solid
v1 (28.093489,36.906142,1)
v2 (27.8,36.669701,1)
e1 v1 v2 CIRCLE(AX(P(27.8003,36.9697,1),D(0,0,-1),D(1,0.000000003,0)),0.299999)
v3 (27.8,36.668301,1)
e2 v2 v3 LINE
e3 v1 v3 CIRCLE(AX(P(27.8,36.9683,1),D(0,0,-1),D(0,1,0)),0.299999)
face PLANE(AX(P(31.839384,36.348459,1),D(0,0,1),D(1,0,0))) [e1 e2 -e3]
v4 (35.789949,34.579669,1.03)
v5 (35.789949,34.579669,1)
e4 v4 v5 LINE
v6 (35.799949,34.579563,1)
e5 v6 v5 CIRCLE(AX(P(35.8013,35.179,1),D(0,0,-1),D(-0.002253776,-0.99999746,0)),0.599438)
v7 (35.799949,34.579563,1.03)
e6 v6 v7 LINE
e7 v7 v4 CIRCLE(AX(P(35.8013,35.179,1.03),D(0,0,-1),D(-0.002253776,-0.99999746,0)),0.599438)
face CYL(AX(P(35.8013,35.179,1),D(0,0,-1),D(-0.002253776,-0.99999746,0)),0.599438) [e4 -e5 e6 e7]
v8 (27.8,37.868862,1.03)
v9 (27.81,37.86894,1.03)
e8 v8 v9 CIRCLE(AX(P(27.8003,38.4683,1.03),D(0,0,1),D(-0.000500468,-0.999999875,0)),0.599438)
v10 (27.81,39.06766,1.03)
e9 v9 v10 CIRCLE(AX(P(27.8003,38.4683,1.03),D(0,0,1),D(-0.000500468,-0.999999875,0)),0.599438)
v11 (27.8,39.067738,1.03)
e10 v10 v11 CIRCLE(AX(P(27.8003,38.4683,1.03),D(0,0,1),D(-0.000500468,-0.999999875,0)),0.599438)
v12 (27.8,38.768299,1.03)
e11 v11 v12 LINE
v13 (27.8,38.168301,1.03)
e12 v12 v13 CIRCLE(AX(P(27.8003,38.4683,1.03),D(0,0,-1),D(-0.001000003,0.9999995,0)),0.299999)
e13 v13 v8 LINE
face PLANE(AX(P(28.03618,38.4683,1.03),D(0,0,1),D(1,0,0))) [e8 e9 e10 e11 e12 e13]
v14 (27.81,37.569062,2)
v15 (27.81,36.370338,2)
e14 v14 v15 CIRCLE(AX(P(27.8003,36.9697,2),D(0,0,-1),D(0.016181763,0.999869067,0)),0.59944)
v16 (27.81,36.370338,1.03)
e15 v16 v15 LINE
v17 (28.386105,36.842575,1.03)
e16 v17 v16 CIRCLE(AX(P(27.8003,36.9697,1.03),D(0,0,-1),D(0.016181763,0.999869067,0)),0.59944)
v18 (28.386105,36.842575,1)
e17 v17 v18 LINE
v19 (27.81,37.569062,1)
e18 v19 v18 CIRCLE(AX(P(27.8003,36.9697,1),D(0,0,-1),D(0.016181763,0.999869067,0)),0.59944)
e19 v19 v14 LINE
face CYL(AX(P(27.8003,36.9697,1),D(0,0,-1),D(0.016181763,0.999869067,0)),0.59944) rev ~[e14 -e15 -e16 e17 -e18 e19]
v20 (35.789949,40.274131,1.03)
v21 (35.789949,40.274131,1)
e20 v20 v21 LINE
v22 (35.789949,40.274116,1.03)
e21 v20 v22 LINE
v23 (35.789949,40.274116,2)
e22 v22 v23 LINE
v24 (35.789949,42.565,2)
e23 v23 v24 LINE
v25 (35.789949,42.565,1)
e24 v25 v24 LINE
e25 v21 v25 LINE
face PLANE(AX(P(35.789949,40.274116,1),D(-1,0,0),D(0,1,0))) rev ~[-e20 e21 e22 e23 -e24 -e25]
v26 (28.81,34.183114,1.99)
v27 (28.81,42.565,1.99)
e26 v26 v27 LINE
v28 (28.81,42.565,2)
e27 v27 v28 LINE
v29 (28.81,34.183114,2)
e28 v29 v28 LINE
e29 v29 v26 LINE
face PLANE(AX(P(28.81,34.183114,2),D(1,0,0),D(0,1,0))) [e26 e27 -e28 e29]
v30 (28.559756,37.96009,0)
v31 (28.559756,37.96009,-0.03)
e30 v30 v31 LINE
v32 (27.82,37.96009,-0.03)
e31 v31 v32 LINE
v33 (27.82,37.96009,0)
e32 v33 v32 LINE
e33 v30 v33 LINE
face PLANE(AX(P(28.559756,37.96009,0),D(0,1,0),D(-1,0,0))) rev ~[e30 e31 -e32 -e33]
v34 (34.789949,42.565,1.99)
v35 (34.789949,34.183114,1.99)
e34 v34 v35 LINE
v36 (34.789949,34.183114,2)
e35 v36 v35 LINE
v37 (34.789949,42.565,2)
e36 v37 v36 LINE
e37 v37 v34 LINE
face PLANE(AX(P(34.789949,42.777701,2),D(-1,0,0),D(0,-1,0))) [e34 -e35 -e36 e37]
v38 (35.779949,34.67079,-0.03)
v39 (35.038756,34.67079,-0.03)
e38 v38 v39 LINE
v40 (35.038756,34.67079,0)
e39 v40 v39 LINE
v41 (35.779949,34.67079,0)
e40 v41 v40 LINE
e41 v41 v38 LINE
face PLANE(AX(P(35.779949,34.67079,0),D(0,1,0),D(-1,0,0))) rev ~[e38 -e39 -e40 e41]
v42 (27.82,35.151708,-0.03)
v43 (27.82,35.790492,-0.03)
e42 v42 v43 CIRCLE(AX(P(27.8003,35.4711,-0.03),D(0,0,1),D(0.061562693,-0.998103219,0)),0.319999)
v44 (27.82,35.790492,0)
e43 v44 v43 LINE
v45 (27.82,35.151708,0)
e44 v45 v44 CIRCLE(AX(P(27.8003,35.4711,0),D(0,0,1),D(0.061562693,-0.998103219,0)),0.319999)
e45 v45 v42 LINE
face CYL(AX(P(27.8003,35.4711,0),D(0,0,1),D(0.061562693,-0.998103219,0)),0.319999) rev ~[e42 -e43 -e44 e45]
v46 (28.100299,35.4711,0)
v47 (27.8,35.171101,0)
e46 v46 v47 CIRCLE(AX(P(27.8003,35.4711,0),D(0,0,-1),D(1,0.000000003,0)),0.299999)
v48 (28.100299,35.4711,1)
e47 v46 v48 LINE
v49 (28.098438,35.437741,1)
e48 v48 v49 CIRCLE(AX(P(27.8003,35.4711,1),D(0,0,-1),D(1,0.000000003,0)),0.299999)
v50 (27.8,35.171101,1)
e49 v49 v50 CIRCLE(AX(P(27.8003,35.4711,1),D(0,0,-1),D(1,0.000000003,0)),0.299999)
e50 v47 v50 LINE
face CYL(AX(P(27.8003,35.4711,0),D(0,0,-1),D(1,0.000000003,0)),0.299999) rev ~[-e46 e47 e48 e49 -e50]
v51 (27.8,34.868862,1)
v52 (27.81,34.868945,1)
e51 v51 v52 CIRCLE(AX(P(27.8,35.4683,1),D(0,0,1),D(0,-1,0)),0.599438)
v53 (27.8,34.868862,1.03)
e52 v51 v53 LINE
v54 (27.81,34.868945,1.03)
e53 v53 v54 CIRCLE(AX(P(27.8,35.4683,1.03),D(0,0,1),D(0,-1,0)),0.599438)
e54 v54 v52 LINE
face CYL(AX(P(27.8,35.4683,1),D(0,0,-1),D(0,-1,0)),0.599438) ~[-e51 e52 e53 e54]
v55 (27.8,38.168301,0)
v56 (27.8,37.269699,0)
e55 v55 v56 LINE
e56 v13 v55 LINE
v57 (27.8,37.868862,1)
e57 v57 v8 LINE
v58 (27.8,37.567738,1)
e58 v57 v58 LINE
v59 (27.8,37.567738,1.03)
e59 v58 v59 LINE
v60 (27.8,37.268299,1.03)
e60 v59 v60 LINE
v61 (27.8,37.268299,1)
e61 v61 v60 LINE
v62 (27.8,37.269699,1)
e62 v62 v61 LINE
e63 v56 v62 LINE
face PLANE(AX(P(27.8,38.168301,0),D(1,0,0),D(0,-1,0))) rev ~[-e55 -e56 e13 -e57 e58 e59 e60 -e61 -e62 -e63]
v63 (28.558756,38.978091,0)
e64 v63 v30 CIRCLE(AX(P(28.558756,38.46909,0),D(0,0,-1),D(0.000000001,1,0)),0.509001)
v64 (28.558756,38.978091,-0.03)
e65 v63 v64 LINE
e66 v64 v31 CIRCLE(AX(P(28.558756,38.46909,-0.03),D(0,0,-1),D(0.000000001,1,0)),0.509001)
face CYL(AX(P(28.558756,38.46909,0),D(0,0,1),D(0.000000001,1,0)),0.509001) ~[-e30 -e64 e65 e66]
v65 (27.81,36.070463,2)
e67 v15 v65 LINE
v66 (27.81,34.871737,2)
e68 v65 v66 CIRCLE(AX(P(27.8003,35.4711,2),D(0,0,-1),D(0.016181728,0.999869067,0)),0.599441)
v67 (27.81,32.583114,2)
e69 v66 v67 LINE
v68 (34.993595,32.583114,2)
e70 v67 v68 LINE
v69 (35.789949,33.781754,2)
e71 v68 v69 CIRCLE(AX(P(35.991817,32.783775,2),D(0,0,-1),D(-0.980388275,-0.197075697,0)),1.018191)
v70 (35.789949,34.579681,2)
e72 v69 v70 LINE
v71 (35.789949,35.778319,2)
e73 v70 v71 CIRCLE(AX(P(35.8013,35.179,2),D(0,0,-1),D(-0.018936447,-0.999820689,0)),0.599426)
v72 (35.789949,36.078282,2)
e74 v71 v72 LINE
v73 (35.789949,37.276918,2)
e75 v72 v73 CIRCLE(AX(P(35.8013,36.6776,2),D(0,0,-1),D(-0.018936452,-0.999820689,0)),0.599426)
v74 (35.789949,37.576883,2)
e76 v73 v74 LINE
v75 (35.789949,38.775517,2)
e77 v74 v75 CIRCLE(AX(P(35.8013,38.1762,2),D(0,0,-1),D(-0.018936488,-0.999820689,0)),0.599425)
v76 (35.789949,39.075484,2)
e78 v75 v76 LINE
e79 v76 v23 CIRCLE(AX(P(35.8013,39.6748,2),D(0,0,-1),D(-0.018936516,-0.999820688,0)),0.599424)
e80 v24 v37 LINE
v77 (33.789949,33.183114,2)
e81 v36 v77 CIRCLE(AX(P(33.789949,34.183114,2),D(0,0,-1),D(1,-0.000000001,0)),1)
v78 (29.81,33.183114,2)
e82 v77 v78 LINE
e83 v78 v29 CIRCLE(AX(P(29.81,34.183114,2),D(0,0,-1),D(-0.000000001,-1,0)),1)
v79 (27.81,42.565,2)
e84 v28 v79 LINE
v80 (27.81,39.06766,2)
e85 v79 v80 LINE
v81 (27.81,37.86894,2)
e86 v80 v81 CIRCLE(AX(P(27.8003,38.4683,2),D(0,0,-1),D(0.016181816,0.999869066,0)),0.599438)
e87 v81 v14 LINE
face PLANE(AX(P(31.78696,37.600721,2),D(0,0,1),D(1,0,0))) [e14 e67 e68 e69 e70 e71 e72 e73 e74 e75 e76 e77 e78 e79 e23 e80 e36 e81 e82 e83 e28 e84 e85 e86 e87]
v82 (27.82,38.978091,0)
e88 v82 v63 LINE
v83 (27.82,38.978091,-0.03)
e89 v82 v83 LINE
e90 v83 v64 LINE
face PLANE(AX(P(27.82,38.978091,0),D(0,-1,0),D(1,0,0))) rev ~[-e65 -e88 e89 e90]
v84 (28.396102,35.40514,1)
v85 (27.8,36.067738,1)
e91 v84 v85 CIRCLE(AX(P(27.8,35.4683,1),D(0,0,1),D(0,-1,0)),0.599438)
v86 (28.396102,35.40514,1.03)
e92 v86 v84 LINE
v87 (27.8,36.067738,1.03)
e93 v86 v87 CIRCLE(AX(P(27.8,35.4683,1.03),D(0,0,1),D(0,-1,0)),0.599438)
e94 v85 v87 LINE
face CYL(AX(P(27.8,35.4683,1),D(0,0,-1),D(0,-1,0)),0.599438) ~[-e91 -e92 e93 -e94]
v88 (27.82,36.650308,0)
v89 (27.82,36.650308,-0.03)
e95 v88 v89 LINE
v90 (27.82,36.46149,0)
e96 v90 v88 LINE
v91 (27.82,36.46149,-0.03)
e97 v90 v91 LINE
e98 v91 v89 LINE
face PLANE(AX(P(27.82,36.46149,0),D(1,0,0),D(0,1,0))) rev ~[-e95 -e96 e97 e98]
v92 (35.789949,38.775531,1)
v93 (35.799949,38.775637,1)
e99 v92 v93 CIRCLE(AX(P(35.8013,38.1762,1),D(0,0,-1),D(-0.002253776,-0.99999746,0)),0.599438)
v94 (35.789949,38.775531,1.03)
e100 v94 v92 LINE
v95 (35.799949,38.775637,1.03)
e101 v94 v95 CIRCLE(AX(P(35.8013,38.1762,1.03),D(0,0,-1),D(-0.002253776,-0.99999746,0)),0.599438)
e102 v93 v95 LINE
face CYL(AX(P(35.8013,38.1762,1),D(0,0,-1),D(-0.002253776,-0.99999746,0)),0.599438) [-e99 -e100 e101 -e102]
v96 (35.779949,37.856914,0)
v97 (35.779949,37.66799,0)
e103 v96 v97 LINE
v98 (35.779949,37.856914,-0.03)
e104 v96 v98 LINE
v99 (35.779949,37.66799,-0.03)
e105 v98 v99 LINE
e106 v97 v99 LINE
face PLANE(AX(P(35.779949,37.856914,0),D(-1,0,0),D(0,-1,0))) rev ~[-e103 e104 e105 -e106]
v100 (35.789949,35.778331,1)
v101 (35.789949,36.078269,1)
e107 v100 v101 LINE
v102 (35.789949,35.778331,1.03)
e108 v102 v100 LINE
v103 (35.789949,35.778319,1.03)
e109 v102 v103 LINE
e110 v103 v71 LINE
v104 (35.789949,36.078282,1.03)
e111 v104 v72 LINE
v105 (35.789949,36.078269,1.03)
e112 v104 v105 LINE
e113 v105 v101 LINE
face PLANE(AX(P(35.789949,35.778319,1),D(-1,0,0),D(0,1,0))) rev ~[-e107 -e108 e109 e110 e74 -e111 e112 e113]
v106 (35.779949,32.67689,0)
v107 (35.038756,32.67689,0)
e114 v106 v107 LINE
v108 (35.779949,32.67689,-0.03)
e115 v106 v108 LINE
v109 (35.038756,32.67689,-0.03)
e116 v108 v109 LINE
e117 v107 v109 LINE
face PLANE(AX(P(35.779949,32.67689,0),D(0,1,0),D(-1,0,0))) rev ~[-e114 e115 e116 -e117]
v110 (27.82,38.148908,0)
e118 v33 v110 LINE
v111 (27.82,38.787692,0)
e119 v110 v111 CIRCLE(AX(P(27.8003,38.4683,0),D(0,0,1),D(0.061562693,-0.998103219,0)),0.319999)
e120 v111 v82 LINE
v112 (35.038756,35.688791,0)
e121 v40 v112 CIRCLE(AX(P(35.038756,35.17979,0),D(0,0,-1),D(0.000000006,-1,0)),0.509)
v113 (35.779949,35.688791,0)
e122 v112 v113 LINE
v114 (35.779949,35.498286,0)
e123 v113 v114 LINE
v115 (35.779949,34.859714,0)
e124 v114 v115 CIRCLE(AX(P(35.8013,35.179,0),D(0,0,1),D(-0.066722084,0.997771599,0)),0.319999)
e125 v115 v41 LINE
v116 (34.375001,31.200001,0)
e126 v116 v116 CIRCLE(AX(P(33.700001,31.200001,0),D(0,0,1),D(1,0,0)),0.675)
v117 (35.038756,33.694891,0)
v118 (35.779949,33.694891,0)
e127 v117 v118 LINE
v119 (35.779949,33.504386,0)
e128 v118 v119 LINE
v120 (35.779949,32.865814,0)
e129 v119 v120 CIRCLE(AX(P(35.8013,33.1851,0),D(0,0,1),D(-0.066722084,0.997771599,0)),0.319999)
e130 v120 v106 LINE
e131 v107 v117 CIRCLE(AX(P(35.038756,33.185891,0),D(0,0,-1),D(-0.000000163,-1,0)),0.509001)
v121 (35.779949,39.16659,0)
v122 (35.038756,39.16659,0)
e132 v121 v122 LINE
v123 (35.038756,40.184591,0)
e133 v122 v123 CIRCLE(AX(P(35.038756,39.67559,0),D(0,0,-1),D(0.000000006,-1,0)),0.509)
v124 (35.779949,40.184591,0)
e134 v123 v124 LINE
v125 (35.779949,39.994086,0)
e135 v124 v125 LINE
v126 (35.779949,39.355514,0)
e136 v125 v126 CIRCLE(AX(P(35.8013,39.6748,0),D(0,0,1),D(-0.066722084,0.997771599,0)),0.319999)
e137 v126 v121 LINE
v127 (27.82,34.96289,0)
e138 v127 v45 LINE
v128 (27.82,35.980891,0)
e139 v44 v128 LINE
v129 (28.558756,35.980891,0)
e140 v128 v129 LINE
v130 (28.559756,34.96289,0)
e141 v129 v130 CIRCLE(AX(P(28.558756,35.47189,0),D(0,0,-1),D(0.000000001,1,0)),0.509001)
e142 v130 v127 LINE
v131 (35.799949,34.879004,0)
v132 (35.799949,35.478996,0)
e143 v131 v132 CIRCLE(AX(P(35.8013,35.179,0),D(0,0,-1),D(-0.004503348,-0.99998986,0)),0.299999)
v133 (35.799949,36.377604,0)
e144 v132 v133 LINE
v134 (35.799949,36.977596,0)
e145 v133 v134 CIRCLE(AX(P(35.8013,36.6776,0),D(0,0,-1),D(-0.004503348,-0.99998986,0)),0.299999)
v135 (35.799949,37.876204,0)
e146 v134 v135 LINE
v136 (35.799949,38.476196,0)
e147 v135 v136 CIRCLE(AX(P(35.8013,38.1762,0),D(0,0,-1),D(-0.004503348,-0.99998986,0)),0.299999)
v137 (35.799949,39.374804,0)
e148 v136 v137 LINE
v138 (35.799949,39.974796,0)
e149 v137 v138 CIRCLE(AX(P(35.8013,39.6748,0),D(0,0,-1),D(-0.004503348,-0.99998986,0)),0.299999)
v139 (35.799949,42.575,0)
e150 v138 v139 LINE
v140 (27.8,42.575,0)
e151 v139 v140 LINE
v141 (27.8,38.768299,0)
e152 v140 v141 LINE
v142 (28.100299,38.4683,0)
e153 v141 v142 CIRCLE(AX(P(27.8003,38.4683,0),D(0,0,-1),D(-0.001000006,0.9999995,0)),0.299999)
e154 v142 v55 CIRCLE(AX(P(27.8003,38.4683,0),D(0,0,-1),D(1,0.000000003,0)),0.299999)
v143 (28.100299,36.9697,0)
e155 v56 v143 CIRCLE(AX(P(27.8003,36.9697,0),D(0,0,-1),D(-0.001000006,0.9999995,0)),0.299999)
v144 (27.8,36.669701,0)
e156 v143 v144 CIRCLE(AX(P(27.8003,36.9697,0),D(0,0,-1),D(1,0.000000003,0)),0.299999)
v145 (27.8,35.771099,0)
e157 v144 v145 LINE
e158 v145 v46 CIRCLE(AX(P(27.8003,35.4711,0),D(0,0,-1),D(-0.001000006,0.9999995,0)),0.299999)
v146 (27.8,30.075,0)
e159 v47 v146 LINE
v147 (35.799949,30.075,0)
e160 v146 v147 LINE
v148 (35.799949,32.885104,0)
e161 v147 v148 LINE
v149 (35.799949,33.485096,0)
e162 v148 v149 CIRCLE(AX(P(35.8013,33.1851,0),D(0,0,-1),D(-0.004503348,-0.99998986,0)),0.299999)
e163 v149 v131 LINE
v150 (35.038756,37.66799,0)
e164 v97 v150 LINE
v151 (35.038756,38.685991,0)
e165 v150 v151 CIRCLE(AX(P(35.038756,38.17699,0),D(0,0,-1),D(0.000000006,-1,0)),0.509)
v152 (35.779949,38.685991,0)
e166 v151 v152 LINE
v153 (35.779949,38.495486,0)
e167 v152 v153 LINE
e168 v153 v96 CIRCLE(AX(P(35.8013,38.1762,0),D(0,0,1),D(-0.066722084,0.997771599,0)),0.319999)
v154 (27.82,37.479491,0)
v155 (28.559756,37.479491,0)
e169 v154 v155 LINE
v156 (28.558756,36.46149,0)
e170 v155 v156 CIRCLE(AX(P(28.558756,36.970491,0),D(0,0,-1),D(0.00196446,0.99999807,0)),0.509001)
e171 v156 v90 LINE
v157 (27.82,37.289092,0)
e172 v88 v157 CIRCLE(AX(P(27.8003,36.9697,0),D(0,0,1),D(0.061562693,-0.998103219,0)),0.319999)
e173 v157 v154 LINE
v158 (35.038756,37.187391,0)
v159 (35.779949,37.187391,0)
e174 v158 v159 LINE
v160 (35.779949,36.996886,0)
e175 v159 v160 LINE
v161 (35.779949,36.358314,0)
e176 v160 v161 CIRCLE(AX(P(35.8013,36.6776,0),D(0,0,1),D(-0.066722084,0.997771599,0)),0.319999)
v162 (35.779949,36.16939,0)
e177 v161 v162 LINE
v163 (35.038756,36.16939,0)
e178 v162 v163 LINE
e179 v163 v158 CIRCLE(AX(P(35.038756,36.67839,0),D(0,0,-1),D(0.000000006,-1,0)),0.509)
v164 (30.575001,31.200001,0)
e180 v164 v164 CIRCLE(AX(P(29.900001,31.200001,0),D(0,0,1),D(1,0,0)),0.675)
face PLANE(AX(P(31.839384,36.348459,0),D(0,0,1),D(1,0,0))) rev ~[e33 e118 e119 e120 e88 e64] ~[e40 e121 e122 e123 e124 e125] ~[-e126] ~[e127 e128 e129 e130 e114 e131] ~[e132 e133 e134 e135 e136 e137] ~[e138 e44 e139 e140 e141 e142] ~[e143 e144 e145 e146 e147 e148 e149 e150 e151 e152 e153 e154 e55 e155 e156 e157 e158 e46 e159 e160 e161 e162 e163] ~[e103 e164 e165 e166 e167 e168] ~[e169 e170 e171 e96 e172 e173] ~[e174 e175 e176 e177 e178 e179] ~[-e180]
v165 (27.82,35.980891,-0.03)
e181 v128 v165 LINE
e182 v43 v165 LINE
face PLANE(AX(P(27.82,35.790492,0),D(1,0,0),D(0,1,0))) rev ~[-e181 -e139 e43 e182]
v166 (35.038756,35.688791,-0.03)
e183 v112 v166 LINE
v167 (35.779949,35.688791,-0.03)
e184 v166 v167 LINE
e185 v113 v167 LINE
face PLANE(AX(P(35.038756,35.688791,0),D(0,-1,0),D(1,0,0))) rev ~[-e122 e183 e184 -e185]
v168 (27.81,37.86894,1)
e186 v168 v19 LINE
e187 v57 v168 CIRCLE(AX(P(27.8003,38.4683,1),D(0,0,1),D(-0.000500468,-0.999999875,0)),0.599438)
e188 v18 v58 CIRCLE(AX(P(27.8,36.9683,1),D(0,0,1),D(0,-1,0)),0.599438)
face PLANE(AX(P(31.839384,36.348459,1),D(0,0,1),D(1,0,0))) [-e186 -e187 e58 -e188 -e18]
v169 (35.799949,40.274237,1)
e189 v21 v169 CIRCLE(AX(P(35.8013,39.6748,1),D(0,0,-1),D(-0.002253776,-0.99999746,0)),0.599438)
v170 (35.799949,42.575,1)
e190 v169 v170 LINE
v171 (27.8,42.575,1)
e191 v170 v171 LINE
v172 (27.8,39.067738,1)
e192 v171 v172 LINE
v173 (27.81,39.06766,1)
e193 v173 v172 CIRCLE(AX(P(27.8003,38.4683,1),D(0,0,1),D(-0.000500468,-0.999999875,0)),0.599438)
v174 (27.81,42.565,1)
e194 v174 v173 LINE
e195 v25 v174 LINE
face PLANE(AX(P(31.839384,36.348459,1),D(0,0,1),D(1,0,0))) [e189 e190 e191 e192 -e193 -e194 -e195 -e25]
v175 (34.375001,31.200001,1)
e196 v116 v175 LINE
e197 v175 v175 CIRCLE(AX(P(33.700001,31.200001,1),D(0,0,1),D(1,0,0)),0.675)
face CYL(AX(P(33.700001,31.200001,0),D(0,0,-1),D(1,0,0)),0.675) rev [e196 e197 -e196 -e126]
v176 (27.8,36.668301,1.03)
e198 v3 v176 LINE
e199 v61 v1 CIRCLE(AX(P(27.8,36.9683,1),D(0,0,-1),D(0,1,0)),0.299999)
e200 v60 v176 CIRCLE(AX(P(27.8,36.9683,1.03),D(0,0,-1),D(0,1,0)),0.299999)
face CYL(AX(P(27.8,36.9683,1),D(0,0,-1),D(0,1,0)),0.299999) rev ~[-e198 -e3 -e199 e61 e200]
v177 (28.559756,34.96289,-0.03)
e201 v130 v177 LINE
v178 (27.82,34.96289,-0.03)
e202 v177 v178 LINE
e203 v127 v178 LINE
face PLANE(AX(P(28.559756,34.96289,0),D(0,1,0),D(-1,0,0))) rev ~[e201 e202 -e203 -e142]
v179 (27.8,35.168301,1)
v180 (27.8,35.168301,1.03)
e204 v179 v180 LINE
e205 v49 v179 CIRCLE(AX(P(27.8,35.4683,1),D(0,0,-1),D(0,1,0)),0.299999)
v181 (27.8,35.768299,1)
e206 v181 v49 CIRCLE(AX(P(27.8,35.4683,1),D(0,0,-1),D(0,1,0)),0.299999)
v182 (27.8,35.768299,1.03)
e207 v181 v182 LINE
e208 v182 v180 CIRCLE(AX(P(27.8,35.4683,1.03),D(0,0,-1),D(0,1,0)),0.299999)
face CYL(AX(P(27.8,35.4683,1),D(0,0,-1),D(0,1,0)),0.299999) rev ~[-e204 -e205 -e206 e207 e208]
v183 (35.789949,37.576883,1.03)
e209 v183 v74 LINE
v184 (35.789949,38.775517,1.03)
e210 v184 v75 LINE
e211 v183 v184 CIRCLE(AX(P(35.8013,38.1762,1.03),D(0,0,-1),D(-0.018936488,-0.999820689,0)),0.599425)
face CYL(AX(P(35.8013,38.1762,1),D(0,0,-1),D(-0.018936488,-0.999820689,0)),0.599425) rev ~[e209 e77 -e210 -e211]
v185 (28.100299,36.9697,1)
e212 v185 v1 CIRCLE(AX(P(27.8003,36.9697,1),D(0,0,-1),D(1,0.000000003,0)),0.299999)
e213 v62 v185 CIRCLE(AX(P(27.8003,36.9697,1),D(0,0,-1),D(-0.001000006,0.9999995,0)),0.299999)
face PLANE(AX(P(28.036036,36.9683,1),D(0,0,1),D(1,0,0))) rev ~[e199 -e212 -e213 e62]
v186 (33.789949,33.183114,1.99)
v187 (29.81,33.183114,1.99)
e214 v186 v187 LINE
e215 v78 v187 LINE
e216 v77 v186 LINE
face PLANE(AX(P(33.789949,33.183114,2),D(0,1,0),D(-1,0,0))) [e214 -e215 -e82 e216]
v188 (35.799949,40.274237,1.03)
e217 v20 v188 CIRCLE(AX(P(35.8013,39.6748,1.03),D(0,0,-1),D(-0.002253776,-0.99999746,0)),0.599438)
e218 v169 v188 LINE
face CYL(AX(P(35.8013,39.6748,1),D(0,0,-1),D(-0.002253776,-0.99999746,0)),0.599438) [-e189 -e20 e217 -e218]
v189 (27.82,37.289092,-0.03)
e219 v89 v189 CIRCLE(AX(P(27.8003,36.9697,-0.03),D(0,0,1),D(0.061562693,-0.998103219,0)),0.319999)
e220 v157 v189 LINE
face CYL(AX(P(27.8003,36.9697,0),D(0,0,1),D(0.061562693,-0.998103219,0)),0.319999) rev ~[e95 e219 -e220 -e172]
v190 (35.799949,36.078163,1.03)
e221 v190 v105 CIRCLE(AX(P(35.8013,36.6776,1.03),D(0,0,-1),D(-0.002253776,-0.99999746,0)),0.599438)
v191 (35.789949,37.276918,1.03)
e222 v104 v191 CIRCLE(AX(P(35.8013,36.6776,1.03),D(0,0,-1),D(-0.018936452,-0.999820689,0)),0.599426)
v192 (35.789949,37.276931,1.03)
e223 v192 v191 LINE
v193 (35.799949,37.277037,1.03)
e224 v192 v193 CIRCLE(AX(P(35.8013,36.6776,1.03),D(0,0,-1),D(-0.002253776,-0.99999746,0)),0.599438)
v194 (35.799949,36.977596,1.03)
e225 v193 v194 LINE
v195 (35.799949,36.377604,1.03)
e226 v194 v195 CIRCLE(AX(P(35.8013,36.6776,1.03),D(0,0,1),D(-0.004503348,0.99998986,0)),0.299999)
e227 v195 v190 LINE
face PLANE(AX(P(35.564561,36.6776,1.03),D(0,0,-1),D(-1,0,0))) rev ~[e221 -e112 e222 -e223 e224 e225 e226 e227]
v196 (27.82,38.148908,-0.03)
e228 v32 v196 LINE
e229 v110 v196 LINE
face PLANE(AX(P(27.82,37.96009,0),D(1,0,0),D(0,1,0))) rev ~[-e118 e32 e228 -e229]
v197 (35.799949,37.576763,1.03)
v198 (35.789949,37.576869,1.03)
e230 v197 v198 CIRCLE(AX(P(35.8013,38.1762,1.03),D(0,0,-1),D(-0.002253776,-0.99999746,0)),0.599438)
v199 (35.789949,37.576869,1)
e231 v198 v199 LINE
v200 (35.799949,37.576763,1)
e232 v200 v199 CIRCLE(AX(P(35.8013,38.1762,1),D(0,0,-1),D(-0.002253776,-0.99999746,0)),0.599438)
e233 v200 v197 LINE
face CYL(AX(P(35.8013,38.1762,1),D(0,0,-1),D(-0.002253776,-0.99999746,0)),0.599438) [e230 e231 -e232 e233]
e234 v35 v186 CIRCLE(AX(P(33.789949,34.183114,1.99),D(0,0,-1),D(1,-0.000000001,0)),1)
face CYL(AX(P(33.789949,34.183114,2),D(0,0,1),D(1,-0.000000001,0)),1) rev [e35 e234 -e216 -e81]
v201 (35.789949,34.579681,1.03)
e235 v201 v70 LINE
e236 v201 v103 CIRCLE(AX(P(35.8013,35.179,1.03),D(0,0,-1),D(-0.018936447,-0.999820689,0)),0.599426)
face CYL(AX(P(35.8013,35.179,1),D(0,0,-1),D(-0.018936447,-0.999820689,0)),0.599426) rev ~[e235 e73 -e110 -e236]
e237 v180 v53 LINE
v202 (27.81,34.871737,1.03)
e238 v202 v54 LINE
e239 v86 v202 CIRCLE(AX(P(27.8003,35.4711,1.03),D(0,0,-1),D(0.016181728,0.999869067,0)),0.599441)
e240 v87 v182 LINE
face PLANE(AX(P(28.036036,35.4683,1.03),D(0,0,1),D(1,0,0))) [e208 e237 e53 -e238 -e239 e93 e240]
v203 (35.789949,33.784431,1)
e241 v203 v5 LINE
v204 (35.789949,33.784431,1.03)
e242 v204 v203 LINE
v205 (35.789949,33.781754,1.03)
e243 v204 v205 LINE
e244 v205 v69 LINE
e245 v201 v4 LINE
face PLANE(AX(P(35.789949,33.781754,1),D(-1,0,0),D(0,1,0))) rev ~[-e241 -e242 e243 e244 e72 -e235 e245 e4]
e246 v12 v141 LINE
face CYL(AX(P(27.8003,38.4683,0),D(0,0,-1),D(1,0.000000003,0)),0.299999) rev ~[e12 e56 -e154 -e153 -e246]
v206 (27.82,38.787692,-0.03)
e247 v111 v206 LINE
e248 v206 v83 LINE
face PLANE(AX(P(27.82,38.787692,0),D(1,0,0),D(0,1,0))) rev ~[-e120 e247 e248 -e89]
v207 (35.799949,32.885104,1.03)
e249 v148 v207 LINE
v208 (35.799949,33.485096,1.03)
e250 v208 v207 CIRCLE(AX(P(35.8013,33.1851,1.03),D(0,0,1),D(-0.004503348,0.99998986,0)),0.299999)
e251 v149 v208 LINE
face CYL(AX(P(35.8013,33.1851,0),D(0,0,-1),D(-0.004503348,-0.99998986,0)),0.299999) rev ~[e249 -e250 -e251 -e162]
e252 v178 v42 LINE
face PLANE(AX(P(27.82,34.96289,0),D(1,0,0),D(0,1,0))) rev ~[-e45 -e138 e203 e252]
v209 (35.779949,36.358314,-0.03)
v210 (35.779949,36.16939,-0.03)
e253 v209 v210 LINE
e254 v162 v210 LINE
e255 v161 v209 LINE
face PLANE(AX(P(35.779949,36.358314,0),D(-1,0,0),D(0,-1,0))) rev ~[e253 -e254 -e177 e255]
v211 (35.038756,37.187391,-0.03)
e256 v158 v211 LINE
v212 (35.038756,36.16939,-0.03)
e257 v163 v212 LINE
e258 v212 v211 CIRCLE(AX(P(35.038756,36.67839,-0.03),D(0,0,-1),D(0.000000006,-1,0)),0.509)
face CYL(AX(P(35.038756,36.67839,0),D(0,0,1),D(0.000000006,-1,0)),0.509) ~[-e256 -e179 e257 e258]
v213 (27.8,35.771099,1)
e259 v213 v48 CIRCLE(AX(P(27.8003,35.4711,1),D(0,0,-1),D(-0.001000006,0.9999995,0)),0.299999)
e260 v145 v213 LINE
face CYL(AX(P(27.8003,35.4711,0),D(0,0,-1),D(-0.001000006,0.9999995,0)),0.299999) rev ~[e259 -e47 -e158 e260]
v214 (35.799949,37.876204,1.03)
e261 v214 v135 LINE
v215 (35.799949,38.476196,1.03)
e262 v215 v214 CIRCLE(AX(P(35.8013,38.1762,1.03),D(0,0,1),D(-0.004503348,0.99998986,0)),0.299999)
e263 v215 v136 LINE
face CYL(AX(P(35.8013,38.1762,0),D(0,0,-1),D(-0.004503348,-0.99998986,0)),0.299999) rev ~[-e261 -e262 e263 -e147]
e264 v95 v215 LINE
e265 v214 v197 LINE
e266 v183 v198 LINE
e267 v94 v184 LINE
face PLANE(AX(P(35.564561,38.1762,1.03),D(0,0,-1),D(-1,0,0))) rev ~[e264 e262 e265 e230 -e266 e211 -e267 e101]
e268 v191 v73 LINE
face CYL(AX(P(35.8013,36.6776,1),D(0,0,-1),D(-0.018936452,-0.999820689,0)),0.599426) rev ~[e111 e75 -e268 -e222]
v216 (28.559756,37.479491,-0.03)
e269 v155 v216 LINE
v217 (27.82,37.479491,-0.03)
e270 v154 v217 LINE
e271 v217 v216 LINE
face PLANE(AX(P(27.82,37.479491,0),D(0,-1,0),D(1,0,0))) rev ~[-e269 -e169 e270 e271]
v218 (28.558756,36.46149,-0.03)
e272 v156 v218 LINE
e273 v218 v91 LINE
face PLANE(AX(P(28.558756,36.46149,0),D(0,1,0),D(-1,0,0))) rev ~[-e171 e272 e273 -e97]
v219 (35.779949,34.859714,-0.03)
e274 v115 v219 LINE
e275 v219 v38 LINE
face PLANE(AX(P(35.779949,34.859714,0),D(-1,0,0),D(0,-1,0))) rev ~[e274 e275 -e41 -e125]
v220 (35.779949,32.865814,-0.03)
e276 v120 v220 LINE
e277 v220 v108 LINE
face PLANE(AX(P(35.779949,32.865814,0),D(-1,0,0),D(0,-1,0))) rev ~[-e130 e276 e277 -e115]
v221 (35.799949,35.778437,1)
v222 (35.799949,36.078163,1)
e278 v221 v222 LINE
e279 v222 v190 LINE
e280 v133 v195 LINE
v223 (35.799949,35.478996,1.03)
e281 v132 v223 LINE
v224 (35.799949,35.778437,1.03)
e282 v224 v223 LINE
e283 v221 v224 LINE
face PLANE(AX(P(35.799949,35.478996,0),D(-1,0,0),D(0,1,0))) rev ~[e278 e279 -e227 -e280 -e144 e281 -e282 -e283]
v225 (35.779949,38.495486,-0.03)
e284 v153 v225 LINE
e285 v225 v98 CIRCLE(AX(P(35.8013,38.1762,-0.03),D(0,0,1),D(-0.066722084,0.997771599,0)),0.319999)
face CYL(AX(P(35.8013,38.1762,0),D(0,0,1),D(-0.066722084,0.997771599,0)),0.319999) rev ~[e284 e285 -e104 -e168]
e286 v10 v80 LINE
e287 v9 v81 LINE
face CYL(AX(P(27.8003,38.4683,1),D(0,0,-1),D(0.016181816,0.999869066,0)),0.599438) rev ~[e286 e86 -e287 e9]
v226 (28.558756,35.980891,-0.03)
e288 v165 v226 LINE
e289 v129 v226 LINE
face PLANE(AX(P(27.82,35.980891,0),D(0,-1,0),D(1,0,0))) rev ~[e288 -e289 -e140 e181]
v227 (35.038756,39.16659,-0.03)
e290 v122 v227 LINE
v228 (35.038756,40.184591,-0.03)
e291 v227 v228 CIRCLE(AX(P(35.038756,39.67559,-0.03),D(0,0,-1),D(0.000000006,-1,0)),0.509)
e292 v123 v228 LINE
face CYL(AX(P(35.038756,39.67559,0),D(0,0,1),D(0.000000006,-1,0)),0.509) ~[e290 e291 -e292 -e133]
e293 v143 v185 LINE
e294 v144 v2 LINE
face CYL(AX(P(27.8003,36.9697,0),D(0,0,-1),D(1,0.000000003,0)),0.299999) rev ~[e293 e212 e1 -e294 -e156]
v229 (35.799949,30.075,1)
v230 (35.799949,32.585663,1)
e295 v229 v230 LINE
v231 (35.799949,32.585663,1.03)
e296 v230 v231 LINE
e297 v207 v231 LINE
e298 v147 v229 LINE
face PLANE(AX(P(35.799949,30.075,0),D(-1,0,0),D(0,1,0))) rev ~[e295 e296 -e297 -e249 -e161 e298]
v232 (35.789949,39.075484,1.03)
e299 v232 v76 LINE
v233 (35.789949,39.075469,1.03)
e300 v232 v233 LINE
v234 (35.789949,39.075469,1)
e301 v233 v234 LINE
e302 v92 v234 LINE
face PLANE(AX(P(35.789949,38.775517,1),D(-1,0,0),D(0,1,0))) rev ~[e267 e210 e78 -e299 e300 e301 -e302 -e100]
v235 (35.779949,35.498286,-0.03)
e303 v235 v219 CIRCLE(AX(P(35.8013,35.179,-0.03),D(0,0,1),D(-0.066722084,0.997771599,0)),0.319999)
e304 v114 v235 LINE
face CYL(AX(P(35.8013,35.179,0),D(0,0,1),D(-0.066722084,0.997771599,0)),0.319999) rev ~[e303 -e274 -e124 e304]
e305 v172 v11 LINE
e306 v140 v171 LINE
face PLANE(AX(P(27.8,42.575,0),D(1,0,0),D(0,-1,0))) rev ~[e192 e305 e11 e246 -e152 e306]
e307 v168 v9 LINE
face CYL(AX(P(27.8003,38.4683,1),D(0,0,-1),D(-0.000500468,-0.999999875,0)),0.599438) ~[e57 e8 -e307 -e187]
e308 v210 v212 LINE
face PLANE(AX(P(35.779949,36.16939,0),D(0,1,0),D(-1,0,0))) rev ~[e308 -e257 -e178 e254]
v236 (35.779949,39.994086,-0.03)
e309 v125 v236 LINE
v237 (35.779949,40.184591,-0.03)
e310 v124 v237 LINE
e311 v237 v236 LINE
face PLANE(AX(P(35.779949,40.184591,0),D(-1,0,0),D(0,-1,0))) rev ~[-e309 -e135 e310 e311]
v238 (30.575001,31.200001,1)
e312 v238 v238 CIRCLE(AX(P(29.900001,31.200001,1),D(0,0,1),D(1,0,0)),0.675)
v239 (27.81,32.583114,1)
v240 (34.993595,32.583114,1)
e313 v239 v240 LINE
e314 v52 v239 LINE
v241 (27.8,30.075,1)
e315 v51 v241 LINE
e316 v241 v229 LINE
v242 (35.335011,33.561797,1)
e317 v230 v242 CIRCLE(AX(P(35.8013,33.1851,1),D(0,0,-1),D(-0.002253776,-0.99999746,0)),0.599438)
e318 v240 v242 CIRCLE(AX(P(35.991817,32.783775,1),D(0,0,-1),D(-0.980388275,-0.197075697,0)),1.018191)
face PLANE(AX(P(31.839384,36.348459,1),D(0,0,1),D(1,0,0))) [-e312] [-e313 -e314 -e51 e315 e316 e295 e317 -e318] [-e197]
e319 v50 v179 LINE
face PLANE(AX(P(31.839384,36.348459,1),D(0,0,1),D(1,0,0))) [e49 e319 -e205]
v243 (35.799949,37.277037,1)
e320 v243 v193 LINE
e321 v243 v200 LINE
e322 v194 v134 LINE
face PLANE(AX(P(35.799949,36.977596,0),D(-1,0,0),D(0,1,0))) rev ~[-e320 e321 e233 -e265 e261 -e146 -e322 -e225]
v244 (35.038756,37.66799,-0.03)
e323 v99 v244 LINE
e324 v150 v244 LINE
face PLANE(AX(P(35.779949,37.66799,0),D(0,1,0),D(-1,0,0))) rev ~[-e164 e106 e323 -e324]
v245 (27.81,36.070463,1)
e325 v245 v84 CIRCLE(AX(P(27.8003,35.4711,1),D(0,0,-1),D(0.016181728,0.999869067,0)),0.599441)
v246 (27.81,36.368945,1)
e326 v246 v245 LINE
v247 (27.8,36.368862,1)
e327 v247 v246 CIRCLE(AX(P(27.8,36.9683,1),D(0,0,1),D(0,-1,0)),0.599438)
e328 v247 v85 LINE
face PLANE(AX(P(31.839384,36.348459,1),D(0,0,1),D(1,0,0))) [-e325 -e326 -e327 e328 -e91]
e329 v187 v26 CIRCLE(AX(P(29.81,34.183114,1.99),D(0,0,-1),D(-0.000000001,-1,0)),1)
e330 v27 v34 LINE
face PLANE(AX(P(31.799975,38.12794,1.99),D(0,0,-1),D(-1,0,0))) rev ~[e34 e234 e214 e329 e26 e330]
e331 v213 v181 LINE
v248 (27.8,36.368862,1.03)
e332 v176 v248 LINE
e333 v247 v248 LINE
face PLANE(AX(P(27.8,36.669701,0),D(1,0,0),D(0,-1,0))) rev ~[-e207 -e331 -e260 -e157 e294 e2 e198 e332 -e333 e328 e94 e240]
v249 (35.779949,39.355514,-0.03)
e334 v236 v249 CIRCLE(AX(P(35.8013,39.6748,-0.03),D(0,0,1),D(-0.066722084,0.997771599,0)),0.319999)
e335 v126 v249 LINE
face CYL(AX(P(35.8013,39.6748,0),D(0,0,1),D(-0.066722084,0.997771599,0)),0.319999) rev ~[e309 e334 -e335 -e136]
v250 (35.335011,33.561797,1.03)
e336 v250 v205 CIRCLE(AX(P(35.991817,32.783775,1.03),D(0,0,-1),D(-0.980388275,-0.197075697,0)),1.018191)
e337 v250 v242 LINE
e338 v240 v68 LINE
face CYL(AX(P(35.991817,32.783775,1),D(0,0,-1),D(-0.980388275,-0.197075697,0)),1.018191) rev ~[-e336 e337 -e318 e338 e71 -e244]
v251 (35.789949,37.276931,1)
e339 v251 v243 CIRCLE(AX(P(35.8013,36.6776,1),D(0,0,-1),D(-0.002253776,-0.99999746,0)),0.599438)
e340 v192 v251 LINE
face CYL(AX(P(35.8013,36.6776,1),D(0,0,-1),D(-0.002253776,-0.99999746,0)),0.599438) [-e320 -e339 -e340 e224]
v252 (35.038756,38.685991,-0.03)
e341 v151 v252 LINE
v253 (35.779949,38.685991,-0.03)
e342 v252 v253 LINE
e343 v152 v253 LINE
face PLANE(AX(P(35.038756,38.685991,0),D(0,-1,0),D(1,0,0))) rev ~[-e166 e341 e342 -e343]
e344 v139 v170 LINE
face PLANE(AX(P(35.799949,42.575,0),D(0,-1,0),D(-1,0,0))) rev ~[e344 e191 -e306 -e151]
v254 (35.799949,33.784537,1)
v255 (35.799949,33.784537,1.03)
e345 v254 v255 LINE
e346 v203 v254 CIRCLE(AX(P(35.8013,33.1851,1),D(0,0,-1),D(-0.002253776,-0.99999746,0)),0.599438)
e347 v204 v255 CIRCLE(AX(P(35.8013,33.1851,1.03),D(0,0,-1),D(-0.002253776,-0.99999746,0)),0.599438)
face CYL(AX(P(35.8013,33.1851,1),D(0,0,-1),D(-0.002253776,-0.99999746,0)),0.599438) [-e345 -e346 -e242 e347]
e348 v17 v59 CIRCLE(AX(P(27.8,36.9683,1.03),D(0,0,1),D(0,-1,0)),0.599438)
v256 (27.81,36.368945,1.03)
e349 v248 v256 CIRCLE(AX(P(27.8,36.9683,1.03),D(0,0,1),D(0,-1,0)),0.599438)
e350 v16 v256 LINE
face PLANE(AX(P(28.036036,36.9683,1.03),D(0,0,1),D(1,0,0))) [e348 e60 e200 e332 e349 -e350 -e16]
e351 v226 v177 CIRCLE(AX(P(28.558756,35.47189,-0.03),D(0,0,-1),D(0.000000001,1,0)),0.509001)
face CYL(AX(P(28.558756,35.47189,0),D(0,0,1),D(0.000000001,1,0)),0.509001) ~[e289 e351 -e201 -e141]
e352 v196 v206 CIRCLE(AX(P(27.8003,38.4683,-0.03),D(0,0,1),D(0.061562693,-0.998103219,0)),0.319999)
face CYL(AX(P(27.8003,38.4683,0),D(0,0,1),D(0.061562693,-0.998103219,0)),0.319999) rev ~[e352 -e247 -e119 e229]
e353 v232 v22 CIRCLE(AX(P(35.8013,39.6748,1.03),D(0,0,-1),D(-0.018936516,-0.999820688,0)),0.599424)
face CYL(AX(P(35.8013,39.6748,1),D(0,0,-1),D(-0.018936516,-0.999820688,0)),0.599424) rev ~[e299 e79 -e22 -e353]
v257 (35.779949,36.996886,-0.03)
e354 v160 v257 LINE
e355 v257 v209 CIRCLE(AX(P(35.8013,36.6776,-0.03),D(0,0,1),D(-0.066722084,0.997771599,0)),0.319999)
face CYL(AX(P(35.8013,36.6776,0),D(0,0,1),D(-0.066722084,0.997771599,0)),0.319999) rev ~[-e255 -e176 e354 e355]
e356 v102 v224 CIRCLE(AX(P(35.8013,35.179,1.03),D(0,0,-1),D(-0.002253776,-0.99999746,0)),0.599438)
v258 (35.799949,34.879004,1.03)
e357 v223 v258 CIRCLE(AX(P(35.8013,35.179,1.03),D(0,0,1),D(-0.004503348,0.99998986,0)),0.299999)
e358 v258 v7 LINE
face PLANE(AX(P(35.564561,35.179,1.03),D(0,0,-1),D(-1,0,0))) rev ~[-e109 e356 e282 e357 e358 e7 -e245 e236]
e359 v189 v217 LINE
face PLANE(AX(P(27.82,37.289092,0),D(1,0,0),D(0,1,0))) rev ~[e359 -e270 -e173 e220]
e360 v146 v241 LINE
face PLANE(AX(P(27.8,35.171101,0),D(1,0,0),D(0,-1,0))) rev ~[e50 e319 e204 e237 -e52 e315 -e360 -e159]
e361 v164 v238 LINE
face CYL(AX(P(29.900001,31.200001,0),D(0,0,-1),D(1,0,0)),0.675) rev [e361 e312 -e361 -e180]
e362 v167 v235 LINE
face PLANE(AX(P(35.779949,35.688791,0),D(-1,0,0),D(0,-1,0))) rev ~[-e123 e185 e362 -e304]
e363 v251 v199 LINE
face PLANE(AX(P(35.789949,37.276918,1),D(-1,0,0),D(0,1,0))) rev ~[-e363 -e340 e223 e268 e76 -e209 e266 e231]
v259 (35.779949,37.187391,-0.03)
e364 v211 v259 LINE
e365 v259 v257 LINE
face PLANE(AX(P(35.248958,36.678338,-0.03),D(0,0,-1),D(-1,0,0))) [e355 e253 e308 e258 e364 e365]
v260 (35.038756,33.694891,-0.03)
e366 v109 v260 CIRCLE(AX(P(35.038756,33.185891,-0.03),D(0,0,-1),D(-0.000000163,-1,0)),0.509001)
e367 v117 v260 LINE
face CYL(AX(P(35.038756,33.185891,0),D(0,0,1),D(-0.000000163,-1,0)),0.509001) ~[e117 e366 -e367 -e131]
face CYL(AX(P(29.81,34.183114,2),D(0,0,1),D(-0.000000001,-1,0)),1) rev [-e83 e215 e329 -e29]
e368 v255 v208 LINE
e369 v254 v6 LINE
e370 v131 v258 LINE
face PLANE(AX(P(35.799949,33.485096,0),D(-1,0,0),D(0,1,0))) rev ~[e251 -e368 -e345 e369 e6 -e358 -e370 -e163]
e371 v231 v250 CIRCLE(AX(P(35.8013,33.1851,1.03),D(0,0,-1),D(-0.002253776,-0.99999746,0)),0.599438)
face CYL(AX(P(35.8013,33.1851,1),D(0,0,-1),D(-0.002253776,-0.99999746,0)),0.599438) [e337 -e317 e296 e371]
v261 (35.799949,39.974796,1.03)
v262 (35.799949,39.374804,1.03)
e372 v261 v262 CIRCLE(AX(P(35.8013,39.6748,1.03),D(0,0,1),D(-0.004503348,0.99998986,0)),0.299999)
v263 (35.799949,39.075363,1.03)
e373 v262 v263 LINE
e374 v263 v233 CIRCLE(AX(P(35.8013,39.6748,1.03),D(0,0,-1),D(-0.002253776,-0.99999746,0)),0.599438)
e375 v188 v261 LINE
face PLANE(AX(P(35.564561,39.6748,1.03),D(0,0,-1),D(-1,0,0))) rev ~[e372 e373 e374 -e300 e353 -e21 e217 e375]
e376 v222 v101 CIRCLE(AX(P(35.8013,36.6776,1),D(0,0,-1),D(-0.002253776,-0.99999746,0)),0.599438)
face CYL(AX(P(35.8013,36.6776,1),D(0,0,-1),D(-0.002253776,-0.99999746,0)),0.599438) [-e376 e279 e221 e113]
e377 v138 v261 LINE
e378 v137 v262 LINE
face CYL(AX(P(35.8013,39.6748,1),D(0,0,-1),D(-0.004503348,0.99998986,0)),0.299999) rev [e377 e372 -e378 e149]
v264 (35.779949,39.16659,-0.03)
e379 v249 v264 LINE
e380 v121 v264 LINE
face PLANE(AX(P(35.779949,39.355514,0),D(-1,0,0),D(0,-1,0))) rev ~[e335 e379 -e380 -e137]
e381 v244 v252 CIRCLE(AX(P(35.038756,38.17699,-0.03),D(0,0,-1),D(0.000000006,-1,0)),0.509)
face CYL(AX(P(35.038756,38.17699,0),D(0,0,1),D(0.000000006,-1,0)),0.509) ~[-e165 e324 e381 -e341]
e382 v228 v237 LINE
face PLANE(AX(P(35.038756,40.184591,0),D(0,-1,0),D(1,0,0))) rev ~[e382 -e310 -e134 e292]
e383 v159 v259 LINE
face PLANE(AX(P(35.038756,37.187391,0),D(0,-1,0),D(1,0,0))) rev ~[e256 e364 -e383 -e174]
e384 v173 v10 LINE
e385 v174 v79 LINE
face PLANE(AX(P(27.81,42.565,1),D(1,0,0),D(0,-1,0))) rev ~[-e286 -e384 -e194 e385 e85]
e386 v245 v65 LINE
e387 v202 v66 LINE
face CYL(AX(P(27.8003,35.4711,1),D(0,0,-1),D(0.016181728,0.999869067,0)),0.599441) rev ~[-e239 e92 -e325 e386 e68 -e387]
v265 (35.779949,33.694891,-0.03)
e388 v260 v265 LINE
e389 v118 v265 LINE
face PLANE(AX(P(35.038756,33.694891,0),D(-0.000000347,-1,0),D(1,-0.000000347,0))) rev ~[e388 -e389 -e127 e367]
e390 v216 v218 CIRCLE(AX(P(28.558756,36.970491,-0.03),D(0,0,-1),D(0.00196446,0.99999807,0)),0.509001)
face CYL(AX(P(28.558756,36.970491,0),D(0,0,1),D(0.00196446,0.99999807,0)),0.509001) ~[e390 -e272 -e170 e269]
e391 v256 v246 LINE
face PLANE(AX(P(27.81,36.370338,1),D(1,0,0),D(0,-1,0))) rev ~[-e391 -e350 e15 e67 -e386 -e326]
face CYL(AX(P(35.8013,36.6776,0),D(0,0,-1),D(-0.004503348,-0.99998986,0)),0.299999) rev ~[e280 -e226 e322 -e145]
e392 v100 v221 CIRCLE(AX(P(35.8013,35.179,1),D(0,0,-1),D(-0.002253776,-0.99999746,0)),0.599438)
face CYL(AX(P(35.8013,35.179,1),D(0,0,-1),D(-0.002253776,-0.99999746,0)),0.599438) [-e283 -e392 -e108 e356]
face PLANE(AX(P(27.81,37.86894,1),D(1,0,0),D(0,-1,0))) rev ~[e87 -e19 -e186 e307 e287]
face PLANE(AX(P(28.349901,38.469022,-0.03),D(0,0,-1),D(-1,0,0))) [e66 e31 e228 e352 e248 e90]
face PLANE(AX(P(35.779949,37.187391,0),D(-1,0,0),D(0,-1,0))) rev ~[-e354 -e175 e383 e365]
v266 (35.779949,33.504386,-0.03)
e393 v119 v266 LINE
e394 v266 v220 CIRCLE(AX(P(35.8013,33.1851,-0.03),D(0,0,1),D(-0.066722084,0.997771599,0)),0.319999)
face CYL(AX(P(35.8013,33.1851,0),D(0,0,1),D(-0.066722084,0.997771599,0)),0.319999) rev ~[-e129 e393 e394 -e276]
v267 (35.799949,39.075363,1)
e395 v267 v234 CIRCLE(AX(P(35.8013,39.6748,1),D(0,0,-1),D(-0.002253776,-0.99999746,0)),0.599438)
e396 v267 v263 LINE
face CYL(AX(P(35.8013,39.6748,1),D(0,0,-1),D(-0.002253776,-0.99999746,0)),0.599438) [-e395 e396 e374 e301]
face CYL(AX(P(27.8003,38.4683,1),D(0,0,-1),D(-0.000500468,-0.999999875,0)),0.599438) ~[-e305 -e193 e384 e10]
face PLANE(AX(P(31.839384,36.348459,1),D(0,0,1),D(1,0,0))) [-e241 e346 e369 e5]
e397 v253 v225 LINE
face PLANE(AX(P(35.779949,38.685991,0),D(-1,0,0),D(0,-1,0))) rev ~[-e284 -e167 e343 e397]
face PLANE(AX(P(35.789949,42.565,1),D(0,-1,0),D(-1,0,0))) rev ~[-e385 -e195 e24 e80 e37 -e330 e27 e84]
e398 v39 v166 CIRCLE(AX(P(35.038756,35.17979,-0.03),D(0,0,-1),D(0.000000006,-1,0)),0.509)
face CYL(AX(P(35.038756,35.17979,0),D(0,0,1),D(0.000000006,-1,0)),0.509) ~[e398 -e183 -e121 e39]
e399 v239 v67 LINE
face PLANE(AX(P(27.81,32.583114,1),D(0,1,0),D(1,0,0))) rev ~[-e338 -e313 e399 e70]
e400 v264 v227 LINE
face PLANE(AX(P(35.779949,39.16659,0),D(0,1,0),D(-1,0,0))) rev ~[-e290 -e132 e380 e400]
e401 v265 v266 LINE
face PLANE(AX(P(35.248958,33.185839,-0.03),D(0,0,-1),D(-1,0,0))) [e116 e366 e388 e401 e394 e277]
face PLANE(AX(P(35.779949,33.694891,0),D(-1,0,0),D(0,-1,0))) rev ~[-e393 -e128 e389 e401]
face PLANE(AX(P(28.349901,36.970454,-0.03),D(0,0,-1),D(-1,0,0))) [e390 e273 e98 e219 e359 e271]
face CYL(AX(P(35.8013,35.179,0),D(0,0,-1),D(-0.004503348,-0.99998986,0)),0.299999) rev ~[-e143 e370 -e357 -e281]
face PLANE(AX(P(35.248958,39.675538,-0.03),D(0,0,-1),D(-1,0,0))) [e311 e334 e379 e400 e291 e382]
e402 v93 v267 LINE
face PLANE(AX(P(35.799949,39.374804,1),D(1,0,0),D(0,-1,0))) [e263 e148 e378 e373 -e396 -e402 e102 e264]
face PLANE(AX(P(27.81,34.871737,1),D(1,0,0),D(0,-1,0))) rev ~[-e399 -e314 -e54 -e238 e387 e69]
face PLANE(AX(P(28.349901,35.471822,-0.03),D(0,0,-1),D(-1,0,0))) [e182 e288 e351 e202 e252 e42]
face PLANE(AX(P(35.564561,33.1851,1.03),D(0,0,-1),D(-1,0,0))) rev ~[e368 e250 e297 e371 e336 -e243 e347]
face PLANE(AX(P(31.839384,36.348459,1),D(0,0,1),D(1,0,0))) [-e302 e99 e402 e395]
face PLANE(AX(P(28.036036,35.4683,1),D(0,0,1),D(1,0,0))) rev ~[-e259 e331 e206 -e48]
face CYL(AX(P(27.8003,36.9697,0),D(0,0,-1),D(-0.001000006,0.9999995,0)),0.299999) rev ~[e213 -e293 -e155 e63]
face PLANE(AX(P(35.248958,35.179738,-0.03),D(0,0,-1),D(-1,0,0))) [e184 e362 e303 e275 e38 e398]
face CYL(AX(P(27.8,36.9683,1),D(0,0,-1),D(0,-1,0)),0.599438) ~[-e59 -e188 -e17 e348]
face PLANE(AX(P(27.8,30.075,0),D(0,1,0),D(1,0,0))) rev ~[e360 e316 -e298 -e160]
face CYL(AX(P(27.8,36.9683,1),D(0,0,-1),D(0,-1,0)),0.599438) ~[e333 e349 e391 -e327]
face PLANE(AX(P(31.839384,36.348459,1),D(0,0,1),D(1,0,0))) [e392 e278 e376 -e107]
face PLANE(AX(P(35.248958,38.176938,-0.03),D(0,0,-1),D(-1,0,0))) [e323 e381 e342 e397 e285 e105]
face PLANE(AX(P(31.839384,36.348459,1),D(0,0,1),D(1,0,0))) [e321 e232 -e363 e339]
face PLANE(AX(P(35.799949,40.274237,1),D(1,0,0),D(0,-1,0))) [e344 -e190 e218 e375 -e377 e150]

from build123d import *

# Parameters (mm, degrees)
SKETCH1_R           = 0.675
SKETCH1_R_2         = 0.1
BOSS_EXTRUDE1_DEPTH = 1
SKETCH6_W           = 7.115524524
SKETCH6_H           = 8.894405655
BOSS_EXTRUDE5_DEPTH = 1
BOSS_EXTRUDE2_DEPTH = 1
CUT_EXTRUDE1_DEPTH  = 0.01
BOSS_EXTRUDE3_DEPTH = 0.03
BOSS_EXTRUDE4_DEPTH = 0.03


with BuildPart() as part:
    # Sketch1 → Boss-Extrude1 (new body)
    with BuildSketch(Plane.XY):
        with BuildLine():
            Line((27.8, 35.17110115), (27.8, 30.075))
            Line((27.8, 30.075), (35.799949, 30.075))
            Line((35.799949, 30.075), (35.799949, 32.885104042))
            ThreePointArc((35.799949, 32.885104042), (35.501301, 33.1851), (35.799949, 33.485095958))
            Line((35.799949, 33.485095958), (35.799949, 34.879004042))
            ThreePointArc((35.799949, 34.879004042), (35.501301, 35.179), (35.799949, 35.478995958))
            Line((35.799949, 35.478995958), (35.799949, 36.377604042))
            ThreePointArc((35.799949, 36.377604042), (35.501301, 36.6776), (35.799949, 36.977595958))
            Line((35.799949, 36.977595958), (35.799949, 37.876204042))
            ThreePointArc((35.799949, 37.876204042), (35.501301, 38.1762), (35.799949, 38.476195958))
            Line((35.799949, 38.476195958), (35.799949, 39.374804042))
            ThreePointArc((35.799949, 39.374804042), (35.501301, 39.6748), (35.799949, 39.974795958))
            Line((35.799949, 39.974795958), (35.799949, 42.575))
            Line((35.799949, 42.575), (27.8, 42.575))
            Line((27.8, 42.575), (27.8, 38.76829885))
            ThreePointArc((27.8, 38.76829885), (28.012325235, 38.680537367), (28.100299, 38.4683))
            ThreePointArc((28.100299, 38.4683), (28.012325235, 38.256062633), (27.8, 38.16830115))
            Line((27.8, 38.16830115), (27.8, 37.26969885))
            ThreePointArc((27.8, 37.26969885), (28.012325235, 37.181937367), (28.100299, 36.9697))
            ThreePointArc((28.100299, 36.9697), (28.012325235, 36.757462633), (27.8, 36.66970115))
            Line((27.8, 36.66970115), (27.8, 35.77109885))
            ThreePointArc((27.8, 35.77109885), (28.012325235, 35.683337367), (28.100299, 35.4711))
            ThreePointArc((28.100299, 35.4711), (28.012325235, 35.258862633), (27.8, 35.17110115))
        make_face()
        with Locations((29.900001, 31.200001)):
            Circle(SKETCH1_R, mode=Mode.SUBTRACT)
        with Locations((28.6512, 34.2519)):
            Circle(SKETCH1_R_2, mode=Mode.SUBTRACT)
        with Locations((31.242, 33.7312)):
            Circle(SKETCH1_R_2, mode=Mode.SUBTRACT)
        with Locations((33.700001, 31.200001)):
            Circle(SKETCH1_R, mode=Mode.SUBTRACT)
        with Locations((33.9979, 35.6362)):
            Circle(SKETCH1_R_2, mode=Mode.SUBTRACT)
        with Locations((29.4894, 37.4523)):
            Circle(SKETCH1_R_2, mode=Mode.SUBTRACT)
        with Locations((28.6766, 39.4589)):
            Circle(SKETCH1_R_2, mode=Mode.SUBTRACT)
        with Locations((28.6766, 40.1955)):
            Circle(SKETCH1_R_2, mode=Mode.SUBTRACT)
        with Locations((28.5623, 41.0718)):
            Circle(SKETCH1_R_2, mode=Mode.SUBTRACT)
        with Locations((34.417, 40.3987)):
            Circle(SKETCH1_R_2, mode=Mode.SUBTRACT)
        with Locations((35.1282, 41.0718)):
            Circle(SKETCH1_R_2, mode=Mode.SUBTRACT)
    extrude(amount=BOSS_EXTRUDE1_DEPTH)

    # Sketch6 → Boss-Extrude5 (add)
    with BuildSketch(Plane(origin=(0, 0, 0), x_dir=(-1, 0, 0), z_dir=(0, 0, -1))):
        with Locations((-31.874094547, 37.266324599)):
            Rectangle(SKETCH6_W, SKETCH6_H)
    extrude(amount=-BOSS_EXTRUDE5_DEPTH)

    # Sketch2 → Boss-Extrude2 (add)
    with BuildSketch(Plane.XY.offset(1)):
        with BuildLine():
            Line((27.81, 32.583114), (34.9935945, 32.583114))
            ThreePointArc((34.9935945, 32.583114), (35.143737614, 33.347223347), (35.789949, 33.781754006))
            Line((35.789949, 33.781754006), (35.789949, 34.579681377))
            ThreePointArc((35.789949, 34.579681377), (35.201873894, 35.179), (35.789949, 35.778318623))
            Line((35.789949, 35.778318623), (35.789949, 36.078281557))
            ThreePointArc((35.789949, 36.078281557), (35.201874074, 36.6776), (35.789949, 37.276918443))
            Line((35.789949, 37.276918443), (35.789949, 37.576882743))
            ThreePointArc((35.789949, 37.576882743), (35.201875259, 38.1762), (35.789949, 38.775517257))
            Line((35.789949, 38.775517257), (35.789949, 39.075483568))
            ThreePointArc((35.789949, 39.075483568), (35.201876085, 39.6748), (35.789949, 40.274116432))
            Line((35.789949, 40.274116432), (35.789949, 42.565))
            Line((35.789949, 42.565), (27.81, 42.565))
            Line((27.81, 42.565), (27.81, 39.067659783))
            ThreePointArc((27.81, 39.067659783), (28.39973827, 38.4683), (27.81, 37.868940217))
            Line((27.81, 37.868940217), (27.81, 37.569061725))
            ThreePointArc((27.81, 37.569061725), (28.399740212, 36.9697), (27.81, 36.370338275))
            Line((27.81, 36.370338275), (27.81, 36.070463013))
            ThreePointArc((27.81, 36.070463013), (28.3997415, 35.4711), (27.81, 34.871736987))
            Line((27.81, 34.871736987), (27.81, 32.583114))
        make_face()
    extrude(amount=BOSS_EXTRUDE2_DEPTH)

    # Sketch3 → Cut-Extrude1 (cut)
    with BuildSketch(Plane.XY.offset(2)):
        with BuildLine():
            Line((28.81, 42.777701131), (34.789949, 42.777701131))
            Line((34.789949, 42.777701131), (34.789949, 34.183114))
            ThreePointArc((34.789949, 34.183114), (34.497055781, 33.476007219), (33.789949, 33.183114))
            Line((33.789949, 33.183114), (29.81, 33.183114))
            ThreePointArc((29.81, 33.183114), (29.102893219, 33.476007219), (28.81, 34.183114))
            Line((28.81, 34.183114), (28.81, 42.777701131))
        make_face()
    extrude(amount=-CUT_EXTRUDE1_DEPTH, mode=Mode.SUBTRACT)

    # Sketch4 → Boss-Extrude3 (add)
    with BuildSketch(Plane(origin=(0, 0, 0), x_dir=(-1, 0, 0), z_dir=(0, 0, -1))):
        with BuildLine():
            Line((-35.779949, 33.694891216), (-35.779949, 33.504385914))
            ThreePointArc((-35.779949, 33.504385914), (-35.481301, 33.1851), (-35.779949, 32.865814086))
            Line((-35.779949, 32.865814086), (-35.779949, 32.676889963))
            Line((-35.779949, 32.676889963), (-35.038756119, 32.676889963))
            ThreePointArc((-35.038756119, 32.676889963), (-34.529755447, 33.185890801), (-35.038756284, 33.694891473))
            Line((-35.038756284, 33.694891473), (-35.779949, 33.694891216))
        make_face()
        with BuildLine():
            Line((-35.779949, 35.688790945), (-35.779949, 35.498285914))
            ThreePointArc((-35.779949, 35.498285914), (-35.481301, 35.179), (-35.779949, 34.859714086))
            Line((-35.779949, 34.859714086), (-35.779949, 34.670789963))
            Line((-35.779949, 34.670789963), (-35.038756119, 34.670789963))
            ThreePointArc((-35.038756119, 34.670789963), (-34.529755625, 35.179790452), (-35.038756114, 35.688790945))
            Line((-35.038756114, 35.688790945), (-35.779949, 35.688790945))
        make_face()
        with BuildLine():
            Line((-35.779949, 37.187390945), (-35.779949, 36.996885914))
            ThreePointArc((-35.779949, 36.996885914), (-35.481301, 36.6776), (-35.779949, 36.358314086))
            Line((-35.779949, 36.358314086), (-35.779949, 36.169389963))
            Line((-35.779949, 36.169389963), (-35.038756119, 36.169389963))
            ThreePointArc((-35.038756119, 36.169389963), (-34.529755625, 36.678390452), (-35.038756114, 37.187390945))
            Line((-35.038756114, 37.187390945), (-35.779949, 37.187390945))
        make_face()
        with BuildLine():
            Line((-35.779949, 38.685990945), (-35.779949, 38.495485914))
            ThreePointArc((-35.779949, 38.495485914), (-35.481301, 38.1762), (-35.779949, 37.856914086))
            Line((-35.779949, 37.856914086), (-35.779949, 37.667989963))
            Line((-35.779949, 37.667989963), (-35.038756119, 37.667989963))
            ThreePointArc((-35.038756119, 37.667989963), (-34.529755625, 38.176990452), (-35.038756114, 38.685990945))
            Line((-35.038756114, 38.685990945), (-35.779949, 38.685990945))
        make_face()
        with BuildLine():
            Line((-27.82, 37.960089963), (-27.82, 38.148907968))
            ThreePointArc((-27.82, 38.148907968), (-28.120299, 38.4683), (-27.82, 38.787692032))
            Line((-27.82, 38.787692032), (-27.82, 38.978090945))
            Line((-27.82, 38.978090945), (-28.558756031, 38.978090945))
            ThreePointArc((-28.558756031, 38.978090945), (-29.067756767, 38.469589963), (-28.559756031, 37.960089963))
            Line((-28.559756031, 37.960089963), (-27.82, 37.960089963))
        make_face()
        with BuildLine():
            Line((-27.82, 36.461489963), (-27.82, 36.650307968))
            ThreePointArc((-27.82, 36.650307968), (-28.120299, 36.9697), (-27.82, 37.289092032))
            Line((-27.82, 37.289092032), (-27.82, 37.479490946))
            Line((-27.82, 37.479490946), (-28.559755942, 37.479490946))
            ThreePointArc((-28.559755942, 37.479490946), (-29.067756767, 36.969990989), (-28.558756031, 36.461489963))
            Line((-28.558756031, 36.461489963), (-27.82, 36.461489963))
        make_face()
        with BuildLine():
            Line((-35.779949, 40.184590945), (-35.779949, 39.994085914))
            ThreePointArc((-35.779949, 39.994085914), (-35.481301, 39.6748), (-35.779949, 39.355514086))
            Line((-35.779949, 39.355514086), (-35.779949, 39.166589963))
            Line((-35.779949, 39.166589963), (-35.038756119, 39.166589963))
            ThreePointArc((-35.038756119, 39.166589963), (-34.529755625, 39.675590452), (-35.038756114, 40.184590945))
            Line((-35.038756114, 40.184590945), (-35.779949, 40.184590945))
        make_face()
        with BuildLine():
            Line((-27.82, 34.962889963), (-27.82, 35.151707968))
            ThreePointArc((-27.82, 35.151707968), (-28.120299, 35.4711), (-27.82, 35.790492032))
            Line((-27.82, 35.790492032), (-27.82, 35.980890945))
            Line((-27.82, 35.980890945), (-28.558756031, 35.980890945))
            ThreePointArc((-28.558756031, 35.980890945), (-29.067756767, 35.472389963), (-28.559756031, 34.962889963))
            Line((-28.559756031, 34.962889963), (-27.82, 34.962889963))
        make_face()
    extrude(amount=BOSS_EXTRUDE3_DEPTH)

    # Sketch5 → Boss-Extrude4 (add)
    with BuildSketch(Plane.XY.offset(1)):
        with BuildLine():
            Line((35.799949, 39.374804042), (35.799949, 39.075363253))
            ThreePointArc((35.799949, 39.075363253), (35.20186173, 39.6748), (35.799949, 40.274236747))
            Line((35.799949, 40.274236747), (35.799949, 39.974795958))
            ThreePointArc((35.799949, 39.974795958), (35.501301, 39.6748), (35.799949, 39.374804042))
        make_face()
        with BuildLine():
            Line((27.8, 39.067738195), (27.8, 38.76829885))
            ThreePointArc((27.8, 38.76829885), (28.100299, 38.4683), (27.8, 38.16830115))
            Line((27.8, 38.16830115), (27.8, 37.868861805))
            ThreePointArc((27.8, 37.868861805), (28.39973827, 38.4683), (27.8, 39.067738195))
        make_face()
        with BuildLine():
            Line((35.799949, 37.876204042), (35.799949, 37.576763253))
            ThreePointArc((35.799949, 37.576763253), (35.20186173, 38.1762), (35.799949, 38.775636747))
            Line((35.799949, 38.775636747), (35.799949, 38.476195958))
            ThreePointArc((35.799949, 38.476195958), (35.501301, 38.1762), (35.799949, 37.876204042))
        make_face()
        with BuildLine():
            Line((35.799949, 36.377604042), (35.799949, 36.078163253))
            ThreePointArc((35.799949, 36.078163253), (35.20186173, 36.6776), (35.799949, 37.277036747))
            Line((35.799949, 37.277036747), (35.799949, 36.977595958))
            ThreePointArc((35.799949, 36.977595958), (35.501301, 36.6776), (35.799949, 36.377604042))
        make_face()
        with BuildLine():
            Line((35.799949, 34.879004042), (35.799949, 34.579563253))
            ThreePointArc((35.799949, 34.579563253), (35.20186173, 35.179), (35.799949, 35.778436747))
            Line((35.799949, 35.778436747), (35.799949, 35.478995958))
            ThreePointArc((35.799949, 35.478995958), (35.501301, 35.179), (35.799949, 34.879004042))
        make_face()
        with BuildLine():
            Line((35.799949, 32.885104042), (35.799949, 32.585663253))
            ThreePointArc((35.799949, 32.585663253), (35.20186173, 33.1851), (35.799949, 33.784536747))
            Line((35.799949, 33.784536747), (35.799949, 33.485095958))
            ThreePointArc((35.799949, 33.485095958), (35.501301, 33.1851), (35.799949, 32.885104042))
        make_face()
        with BuildLine():
            Line((27.8, 35.168301), (27.8, 34.868861805))
            ThreePointArc((27.8, 34.868861805), (28.399438195, 35.4683), (27.8, 36.067738195))
            Line((27.8, 36.067738195), (27.8, 35.768299))
            ThreePointArc((27.8, 35.768299), (28.099999, 35.4683), (27.8, 35.168301))
        make_face()
        with BuildLine():
            Line((27.8, 36.668301), (27.8, 36.368861805))
            ThreePointArc((27.8, 36.368861805), (28.399438195, 36.9683), (27.8, 37.567738195))
            Line((27.8, 37.567738195), (27.8, 37.268299))
            ThreePointArc((27.8, 37.268299), (28.099999, 36.9683), (27.8, 36.668301))
        make_face()
    extrude(amount=BOSS_EXTRUDE4_DEPTH)


solid = part.part
